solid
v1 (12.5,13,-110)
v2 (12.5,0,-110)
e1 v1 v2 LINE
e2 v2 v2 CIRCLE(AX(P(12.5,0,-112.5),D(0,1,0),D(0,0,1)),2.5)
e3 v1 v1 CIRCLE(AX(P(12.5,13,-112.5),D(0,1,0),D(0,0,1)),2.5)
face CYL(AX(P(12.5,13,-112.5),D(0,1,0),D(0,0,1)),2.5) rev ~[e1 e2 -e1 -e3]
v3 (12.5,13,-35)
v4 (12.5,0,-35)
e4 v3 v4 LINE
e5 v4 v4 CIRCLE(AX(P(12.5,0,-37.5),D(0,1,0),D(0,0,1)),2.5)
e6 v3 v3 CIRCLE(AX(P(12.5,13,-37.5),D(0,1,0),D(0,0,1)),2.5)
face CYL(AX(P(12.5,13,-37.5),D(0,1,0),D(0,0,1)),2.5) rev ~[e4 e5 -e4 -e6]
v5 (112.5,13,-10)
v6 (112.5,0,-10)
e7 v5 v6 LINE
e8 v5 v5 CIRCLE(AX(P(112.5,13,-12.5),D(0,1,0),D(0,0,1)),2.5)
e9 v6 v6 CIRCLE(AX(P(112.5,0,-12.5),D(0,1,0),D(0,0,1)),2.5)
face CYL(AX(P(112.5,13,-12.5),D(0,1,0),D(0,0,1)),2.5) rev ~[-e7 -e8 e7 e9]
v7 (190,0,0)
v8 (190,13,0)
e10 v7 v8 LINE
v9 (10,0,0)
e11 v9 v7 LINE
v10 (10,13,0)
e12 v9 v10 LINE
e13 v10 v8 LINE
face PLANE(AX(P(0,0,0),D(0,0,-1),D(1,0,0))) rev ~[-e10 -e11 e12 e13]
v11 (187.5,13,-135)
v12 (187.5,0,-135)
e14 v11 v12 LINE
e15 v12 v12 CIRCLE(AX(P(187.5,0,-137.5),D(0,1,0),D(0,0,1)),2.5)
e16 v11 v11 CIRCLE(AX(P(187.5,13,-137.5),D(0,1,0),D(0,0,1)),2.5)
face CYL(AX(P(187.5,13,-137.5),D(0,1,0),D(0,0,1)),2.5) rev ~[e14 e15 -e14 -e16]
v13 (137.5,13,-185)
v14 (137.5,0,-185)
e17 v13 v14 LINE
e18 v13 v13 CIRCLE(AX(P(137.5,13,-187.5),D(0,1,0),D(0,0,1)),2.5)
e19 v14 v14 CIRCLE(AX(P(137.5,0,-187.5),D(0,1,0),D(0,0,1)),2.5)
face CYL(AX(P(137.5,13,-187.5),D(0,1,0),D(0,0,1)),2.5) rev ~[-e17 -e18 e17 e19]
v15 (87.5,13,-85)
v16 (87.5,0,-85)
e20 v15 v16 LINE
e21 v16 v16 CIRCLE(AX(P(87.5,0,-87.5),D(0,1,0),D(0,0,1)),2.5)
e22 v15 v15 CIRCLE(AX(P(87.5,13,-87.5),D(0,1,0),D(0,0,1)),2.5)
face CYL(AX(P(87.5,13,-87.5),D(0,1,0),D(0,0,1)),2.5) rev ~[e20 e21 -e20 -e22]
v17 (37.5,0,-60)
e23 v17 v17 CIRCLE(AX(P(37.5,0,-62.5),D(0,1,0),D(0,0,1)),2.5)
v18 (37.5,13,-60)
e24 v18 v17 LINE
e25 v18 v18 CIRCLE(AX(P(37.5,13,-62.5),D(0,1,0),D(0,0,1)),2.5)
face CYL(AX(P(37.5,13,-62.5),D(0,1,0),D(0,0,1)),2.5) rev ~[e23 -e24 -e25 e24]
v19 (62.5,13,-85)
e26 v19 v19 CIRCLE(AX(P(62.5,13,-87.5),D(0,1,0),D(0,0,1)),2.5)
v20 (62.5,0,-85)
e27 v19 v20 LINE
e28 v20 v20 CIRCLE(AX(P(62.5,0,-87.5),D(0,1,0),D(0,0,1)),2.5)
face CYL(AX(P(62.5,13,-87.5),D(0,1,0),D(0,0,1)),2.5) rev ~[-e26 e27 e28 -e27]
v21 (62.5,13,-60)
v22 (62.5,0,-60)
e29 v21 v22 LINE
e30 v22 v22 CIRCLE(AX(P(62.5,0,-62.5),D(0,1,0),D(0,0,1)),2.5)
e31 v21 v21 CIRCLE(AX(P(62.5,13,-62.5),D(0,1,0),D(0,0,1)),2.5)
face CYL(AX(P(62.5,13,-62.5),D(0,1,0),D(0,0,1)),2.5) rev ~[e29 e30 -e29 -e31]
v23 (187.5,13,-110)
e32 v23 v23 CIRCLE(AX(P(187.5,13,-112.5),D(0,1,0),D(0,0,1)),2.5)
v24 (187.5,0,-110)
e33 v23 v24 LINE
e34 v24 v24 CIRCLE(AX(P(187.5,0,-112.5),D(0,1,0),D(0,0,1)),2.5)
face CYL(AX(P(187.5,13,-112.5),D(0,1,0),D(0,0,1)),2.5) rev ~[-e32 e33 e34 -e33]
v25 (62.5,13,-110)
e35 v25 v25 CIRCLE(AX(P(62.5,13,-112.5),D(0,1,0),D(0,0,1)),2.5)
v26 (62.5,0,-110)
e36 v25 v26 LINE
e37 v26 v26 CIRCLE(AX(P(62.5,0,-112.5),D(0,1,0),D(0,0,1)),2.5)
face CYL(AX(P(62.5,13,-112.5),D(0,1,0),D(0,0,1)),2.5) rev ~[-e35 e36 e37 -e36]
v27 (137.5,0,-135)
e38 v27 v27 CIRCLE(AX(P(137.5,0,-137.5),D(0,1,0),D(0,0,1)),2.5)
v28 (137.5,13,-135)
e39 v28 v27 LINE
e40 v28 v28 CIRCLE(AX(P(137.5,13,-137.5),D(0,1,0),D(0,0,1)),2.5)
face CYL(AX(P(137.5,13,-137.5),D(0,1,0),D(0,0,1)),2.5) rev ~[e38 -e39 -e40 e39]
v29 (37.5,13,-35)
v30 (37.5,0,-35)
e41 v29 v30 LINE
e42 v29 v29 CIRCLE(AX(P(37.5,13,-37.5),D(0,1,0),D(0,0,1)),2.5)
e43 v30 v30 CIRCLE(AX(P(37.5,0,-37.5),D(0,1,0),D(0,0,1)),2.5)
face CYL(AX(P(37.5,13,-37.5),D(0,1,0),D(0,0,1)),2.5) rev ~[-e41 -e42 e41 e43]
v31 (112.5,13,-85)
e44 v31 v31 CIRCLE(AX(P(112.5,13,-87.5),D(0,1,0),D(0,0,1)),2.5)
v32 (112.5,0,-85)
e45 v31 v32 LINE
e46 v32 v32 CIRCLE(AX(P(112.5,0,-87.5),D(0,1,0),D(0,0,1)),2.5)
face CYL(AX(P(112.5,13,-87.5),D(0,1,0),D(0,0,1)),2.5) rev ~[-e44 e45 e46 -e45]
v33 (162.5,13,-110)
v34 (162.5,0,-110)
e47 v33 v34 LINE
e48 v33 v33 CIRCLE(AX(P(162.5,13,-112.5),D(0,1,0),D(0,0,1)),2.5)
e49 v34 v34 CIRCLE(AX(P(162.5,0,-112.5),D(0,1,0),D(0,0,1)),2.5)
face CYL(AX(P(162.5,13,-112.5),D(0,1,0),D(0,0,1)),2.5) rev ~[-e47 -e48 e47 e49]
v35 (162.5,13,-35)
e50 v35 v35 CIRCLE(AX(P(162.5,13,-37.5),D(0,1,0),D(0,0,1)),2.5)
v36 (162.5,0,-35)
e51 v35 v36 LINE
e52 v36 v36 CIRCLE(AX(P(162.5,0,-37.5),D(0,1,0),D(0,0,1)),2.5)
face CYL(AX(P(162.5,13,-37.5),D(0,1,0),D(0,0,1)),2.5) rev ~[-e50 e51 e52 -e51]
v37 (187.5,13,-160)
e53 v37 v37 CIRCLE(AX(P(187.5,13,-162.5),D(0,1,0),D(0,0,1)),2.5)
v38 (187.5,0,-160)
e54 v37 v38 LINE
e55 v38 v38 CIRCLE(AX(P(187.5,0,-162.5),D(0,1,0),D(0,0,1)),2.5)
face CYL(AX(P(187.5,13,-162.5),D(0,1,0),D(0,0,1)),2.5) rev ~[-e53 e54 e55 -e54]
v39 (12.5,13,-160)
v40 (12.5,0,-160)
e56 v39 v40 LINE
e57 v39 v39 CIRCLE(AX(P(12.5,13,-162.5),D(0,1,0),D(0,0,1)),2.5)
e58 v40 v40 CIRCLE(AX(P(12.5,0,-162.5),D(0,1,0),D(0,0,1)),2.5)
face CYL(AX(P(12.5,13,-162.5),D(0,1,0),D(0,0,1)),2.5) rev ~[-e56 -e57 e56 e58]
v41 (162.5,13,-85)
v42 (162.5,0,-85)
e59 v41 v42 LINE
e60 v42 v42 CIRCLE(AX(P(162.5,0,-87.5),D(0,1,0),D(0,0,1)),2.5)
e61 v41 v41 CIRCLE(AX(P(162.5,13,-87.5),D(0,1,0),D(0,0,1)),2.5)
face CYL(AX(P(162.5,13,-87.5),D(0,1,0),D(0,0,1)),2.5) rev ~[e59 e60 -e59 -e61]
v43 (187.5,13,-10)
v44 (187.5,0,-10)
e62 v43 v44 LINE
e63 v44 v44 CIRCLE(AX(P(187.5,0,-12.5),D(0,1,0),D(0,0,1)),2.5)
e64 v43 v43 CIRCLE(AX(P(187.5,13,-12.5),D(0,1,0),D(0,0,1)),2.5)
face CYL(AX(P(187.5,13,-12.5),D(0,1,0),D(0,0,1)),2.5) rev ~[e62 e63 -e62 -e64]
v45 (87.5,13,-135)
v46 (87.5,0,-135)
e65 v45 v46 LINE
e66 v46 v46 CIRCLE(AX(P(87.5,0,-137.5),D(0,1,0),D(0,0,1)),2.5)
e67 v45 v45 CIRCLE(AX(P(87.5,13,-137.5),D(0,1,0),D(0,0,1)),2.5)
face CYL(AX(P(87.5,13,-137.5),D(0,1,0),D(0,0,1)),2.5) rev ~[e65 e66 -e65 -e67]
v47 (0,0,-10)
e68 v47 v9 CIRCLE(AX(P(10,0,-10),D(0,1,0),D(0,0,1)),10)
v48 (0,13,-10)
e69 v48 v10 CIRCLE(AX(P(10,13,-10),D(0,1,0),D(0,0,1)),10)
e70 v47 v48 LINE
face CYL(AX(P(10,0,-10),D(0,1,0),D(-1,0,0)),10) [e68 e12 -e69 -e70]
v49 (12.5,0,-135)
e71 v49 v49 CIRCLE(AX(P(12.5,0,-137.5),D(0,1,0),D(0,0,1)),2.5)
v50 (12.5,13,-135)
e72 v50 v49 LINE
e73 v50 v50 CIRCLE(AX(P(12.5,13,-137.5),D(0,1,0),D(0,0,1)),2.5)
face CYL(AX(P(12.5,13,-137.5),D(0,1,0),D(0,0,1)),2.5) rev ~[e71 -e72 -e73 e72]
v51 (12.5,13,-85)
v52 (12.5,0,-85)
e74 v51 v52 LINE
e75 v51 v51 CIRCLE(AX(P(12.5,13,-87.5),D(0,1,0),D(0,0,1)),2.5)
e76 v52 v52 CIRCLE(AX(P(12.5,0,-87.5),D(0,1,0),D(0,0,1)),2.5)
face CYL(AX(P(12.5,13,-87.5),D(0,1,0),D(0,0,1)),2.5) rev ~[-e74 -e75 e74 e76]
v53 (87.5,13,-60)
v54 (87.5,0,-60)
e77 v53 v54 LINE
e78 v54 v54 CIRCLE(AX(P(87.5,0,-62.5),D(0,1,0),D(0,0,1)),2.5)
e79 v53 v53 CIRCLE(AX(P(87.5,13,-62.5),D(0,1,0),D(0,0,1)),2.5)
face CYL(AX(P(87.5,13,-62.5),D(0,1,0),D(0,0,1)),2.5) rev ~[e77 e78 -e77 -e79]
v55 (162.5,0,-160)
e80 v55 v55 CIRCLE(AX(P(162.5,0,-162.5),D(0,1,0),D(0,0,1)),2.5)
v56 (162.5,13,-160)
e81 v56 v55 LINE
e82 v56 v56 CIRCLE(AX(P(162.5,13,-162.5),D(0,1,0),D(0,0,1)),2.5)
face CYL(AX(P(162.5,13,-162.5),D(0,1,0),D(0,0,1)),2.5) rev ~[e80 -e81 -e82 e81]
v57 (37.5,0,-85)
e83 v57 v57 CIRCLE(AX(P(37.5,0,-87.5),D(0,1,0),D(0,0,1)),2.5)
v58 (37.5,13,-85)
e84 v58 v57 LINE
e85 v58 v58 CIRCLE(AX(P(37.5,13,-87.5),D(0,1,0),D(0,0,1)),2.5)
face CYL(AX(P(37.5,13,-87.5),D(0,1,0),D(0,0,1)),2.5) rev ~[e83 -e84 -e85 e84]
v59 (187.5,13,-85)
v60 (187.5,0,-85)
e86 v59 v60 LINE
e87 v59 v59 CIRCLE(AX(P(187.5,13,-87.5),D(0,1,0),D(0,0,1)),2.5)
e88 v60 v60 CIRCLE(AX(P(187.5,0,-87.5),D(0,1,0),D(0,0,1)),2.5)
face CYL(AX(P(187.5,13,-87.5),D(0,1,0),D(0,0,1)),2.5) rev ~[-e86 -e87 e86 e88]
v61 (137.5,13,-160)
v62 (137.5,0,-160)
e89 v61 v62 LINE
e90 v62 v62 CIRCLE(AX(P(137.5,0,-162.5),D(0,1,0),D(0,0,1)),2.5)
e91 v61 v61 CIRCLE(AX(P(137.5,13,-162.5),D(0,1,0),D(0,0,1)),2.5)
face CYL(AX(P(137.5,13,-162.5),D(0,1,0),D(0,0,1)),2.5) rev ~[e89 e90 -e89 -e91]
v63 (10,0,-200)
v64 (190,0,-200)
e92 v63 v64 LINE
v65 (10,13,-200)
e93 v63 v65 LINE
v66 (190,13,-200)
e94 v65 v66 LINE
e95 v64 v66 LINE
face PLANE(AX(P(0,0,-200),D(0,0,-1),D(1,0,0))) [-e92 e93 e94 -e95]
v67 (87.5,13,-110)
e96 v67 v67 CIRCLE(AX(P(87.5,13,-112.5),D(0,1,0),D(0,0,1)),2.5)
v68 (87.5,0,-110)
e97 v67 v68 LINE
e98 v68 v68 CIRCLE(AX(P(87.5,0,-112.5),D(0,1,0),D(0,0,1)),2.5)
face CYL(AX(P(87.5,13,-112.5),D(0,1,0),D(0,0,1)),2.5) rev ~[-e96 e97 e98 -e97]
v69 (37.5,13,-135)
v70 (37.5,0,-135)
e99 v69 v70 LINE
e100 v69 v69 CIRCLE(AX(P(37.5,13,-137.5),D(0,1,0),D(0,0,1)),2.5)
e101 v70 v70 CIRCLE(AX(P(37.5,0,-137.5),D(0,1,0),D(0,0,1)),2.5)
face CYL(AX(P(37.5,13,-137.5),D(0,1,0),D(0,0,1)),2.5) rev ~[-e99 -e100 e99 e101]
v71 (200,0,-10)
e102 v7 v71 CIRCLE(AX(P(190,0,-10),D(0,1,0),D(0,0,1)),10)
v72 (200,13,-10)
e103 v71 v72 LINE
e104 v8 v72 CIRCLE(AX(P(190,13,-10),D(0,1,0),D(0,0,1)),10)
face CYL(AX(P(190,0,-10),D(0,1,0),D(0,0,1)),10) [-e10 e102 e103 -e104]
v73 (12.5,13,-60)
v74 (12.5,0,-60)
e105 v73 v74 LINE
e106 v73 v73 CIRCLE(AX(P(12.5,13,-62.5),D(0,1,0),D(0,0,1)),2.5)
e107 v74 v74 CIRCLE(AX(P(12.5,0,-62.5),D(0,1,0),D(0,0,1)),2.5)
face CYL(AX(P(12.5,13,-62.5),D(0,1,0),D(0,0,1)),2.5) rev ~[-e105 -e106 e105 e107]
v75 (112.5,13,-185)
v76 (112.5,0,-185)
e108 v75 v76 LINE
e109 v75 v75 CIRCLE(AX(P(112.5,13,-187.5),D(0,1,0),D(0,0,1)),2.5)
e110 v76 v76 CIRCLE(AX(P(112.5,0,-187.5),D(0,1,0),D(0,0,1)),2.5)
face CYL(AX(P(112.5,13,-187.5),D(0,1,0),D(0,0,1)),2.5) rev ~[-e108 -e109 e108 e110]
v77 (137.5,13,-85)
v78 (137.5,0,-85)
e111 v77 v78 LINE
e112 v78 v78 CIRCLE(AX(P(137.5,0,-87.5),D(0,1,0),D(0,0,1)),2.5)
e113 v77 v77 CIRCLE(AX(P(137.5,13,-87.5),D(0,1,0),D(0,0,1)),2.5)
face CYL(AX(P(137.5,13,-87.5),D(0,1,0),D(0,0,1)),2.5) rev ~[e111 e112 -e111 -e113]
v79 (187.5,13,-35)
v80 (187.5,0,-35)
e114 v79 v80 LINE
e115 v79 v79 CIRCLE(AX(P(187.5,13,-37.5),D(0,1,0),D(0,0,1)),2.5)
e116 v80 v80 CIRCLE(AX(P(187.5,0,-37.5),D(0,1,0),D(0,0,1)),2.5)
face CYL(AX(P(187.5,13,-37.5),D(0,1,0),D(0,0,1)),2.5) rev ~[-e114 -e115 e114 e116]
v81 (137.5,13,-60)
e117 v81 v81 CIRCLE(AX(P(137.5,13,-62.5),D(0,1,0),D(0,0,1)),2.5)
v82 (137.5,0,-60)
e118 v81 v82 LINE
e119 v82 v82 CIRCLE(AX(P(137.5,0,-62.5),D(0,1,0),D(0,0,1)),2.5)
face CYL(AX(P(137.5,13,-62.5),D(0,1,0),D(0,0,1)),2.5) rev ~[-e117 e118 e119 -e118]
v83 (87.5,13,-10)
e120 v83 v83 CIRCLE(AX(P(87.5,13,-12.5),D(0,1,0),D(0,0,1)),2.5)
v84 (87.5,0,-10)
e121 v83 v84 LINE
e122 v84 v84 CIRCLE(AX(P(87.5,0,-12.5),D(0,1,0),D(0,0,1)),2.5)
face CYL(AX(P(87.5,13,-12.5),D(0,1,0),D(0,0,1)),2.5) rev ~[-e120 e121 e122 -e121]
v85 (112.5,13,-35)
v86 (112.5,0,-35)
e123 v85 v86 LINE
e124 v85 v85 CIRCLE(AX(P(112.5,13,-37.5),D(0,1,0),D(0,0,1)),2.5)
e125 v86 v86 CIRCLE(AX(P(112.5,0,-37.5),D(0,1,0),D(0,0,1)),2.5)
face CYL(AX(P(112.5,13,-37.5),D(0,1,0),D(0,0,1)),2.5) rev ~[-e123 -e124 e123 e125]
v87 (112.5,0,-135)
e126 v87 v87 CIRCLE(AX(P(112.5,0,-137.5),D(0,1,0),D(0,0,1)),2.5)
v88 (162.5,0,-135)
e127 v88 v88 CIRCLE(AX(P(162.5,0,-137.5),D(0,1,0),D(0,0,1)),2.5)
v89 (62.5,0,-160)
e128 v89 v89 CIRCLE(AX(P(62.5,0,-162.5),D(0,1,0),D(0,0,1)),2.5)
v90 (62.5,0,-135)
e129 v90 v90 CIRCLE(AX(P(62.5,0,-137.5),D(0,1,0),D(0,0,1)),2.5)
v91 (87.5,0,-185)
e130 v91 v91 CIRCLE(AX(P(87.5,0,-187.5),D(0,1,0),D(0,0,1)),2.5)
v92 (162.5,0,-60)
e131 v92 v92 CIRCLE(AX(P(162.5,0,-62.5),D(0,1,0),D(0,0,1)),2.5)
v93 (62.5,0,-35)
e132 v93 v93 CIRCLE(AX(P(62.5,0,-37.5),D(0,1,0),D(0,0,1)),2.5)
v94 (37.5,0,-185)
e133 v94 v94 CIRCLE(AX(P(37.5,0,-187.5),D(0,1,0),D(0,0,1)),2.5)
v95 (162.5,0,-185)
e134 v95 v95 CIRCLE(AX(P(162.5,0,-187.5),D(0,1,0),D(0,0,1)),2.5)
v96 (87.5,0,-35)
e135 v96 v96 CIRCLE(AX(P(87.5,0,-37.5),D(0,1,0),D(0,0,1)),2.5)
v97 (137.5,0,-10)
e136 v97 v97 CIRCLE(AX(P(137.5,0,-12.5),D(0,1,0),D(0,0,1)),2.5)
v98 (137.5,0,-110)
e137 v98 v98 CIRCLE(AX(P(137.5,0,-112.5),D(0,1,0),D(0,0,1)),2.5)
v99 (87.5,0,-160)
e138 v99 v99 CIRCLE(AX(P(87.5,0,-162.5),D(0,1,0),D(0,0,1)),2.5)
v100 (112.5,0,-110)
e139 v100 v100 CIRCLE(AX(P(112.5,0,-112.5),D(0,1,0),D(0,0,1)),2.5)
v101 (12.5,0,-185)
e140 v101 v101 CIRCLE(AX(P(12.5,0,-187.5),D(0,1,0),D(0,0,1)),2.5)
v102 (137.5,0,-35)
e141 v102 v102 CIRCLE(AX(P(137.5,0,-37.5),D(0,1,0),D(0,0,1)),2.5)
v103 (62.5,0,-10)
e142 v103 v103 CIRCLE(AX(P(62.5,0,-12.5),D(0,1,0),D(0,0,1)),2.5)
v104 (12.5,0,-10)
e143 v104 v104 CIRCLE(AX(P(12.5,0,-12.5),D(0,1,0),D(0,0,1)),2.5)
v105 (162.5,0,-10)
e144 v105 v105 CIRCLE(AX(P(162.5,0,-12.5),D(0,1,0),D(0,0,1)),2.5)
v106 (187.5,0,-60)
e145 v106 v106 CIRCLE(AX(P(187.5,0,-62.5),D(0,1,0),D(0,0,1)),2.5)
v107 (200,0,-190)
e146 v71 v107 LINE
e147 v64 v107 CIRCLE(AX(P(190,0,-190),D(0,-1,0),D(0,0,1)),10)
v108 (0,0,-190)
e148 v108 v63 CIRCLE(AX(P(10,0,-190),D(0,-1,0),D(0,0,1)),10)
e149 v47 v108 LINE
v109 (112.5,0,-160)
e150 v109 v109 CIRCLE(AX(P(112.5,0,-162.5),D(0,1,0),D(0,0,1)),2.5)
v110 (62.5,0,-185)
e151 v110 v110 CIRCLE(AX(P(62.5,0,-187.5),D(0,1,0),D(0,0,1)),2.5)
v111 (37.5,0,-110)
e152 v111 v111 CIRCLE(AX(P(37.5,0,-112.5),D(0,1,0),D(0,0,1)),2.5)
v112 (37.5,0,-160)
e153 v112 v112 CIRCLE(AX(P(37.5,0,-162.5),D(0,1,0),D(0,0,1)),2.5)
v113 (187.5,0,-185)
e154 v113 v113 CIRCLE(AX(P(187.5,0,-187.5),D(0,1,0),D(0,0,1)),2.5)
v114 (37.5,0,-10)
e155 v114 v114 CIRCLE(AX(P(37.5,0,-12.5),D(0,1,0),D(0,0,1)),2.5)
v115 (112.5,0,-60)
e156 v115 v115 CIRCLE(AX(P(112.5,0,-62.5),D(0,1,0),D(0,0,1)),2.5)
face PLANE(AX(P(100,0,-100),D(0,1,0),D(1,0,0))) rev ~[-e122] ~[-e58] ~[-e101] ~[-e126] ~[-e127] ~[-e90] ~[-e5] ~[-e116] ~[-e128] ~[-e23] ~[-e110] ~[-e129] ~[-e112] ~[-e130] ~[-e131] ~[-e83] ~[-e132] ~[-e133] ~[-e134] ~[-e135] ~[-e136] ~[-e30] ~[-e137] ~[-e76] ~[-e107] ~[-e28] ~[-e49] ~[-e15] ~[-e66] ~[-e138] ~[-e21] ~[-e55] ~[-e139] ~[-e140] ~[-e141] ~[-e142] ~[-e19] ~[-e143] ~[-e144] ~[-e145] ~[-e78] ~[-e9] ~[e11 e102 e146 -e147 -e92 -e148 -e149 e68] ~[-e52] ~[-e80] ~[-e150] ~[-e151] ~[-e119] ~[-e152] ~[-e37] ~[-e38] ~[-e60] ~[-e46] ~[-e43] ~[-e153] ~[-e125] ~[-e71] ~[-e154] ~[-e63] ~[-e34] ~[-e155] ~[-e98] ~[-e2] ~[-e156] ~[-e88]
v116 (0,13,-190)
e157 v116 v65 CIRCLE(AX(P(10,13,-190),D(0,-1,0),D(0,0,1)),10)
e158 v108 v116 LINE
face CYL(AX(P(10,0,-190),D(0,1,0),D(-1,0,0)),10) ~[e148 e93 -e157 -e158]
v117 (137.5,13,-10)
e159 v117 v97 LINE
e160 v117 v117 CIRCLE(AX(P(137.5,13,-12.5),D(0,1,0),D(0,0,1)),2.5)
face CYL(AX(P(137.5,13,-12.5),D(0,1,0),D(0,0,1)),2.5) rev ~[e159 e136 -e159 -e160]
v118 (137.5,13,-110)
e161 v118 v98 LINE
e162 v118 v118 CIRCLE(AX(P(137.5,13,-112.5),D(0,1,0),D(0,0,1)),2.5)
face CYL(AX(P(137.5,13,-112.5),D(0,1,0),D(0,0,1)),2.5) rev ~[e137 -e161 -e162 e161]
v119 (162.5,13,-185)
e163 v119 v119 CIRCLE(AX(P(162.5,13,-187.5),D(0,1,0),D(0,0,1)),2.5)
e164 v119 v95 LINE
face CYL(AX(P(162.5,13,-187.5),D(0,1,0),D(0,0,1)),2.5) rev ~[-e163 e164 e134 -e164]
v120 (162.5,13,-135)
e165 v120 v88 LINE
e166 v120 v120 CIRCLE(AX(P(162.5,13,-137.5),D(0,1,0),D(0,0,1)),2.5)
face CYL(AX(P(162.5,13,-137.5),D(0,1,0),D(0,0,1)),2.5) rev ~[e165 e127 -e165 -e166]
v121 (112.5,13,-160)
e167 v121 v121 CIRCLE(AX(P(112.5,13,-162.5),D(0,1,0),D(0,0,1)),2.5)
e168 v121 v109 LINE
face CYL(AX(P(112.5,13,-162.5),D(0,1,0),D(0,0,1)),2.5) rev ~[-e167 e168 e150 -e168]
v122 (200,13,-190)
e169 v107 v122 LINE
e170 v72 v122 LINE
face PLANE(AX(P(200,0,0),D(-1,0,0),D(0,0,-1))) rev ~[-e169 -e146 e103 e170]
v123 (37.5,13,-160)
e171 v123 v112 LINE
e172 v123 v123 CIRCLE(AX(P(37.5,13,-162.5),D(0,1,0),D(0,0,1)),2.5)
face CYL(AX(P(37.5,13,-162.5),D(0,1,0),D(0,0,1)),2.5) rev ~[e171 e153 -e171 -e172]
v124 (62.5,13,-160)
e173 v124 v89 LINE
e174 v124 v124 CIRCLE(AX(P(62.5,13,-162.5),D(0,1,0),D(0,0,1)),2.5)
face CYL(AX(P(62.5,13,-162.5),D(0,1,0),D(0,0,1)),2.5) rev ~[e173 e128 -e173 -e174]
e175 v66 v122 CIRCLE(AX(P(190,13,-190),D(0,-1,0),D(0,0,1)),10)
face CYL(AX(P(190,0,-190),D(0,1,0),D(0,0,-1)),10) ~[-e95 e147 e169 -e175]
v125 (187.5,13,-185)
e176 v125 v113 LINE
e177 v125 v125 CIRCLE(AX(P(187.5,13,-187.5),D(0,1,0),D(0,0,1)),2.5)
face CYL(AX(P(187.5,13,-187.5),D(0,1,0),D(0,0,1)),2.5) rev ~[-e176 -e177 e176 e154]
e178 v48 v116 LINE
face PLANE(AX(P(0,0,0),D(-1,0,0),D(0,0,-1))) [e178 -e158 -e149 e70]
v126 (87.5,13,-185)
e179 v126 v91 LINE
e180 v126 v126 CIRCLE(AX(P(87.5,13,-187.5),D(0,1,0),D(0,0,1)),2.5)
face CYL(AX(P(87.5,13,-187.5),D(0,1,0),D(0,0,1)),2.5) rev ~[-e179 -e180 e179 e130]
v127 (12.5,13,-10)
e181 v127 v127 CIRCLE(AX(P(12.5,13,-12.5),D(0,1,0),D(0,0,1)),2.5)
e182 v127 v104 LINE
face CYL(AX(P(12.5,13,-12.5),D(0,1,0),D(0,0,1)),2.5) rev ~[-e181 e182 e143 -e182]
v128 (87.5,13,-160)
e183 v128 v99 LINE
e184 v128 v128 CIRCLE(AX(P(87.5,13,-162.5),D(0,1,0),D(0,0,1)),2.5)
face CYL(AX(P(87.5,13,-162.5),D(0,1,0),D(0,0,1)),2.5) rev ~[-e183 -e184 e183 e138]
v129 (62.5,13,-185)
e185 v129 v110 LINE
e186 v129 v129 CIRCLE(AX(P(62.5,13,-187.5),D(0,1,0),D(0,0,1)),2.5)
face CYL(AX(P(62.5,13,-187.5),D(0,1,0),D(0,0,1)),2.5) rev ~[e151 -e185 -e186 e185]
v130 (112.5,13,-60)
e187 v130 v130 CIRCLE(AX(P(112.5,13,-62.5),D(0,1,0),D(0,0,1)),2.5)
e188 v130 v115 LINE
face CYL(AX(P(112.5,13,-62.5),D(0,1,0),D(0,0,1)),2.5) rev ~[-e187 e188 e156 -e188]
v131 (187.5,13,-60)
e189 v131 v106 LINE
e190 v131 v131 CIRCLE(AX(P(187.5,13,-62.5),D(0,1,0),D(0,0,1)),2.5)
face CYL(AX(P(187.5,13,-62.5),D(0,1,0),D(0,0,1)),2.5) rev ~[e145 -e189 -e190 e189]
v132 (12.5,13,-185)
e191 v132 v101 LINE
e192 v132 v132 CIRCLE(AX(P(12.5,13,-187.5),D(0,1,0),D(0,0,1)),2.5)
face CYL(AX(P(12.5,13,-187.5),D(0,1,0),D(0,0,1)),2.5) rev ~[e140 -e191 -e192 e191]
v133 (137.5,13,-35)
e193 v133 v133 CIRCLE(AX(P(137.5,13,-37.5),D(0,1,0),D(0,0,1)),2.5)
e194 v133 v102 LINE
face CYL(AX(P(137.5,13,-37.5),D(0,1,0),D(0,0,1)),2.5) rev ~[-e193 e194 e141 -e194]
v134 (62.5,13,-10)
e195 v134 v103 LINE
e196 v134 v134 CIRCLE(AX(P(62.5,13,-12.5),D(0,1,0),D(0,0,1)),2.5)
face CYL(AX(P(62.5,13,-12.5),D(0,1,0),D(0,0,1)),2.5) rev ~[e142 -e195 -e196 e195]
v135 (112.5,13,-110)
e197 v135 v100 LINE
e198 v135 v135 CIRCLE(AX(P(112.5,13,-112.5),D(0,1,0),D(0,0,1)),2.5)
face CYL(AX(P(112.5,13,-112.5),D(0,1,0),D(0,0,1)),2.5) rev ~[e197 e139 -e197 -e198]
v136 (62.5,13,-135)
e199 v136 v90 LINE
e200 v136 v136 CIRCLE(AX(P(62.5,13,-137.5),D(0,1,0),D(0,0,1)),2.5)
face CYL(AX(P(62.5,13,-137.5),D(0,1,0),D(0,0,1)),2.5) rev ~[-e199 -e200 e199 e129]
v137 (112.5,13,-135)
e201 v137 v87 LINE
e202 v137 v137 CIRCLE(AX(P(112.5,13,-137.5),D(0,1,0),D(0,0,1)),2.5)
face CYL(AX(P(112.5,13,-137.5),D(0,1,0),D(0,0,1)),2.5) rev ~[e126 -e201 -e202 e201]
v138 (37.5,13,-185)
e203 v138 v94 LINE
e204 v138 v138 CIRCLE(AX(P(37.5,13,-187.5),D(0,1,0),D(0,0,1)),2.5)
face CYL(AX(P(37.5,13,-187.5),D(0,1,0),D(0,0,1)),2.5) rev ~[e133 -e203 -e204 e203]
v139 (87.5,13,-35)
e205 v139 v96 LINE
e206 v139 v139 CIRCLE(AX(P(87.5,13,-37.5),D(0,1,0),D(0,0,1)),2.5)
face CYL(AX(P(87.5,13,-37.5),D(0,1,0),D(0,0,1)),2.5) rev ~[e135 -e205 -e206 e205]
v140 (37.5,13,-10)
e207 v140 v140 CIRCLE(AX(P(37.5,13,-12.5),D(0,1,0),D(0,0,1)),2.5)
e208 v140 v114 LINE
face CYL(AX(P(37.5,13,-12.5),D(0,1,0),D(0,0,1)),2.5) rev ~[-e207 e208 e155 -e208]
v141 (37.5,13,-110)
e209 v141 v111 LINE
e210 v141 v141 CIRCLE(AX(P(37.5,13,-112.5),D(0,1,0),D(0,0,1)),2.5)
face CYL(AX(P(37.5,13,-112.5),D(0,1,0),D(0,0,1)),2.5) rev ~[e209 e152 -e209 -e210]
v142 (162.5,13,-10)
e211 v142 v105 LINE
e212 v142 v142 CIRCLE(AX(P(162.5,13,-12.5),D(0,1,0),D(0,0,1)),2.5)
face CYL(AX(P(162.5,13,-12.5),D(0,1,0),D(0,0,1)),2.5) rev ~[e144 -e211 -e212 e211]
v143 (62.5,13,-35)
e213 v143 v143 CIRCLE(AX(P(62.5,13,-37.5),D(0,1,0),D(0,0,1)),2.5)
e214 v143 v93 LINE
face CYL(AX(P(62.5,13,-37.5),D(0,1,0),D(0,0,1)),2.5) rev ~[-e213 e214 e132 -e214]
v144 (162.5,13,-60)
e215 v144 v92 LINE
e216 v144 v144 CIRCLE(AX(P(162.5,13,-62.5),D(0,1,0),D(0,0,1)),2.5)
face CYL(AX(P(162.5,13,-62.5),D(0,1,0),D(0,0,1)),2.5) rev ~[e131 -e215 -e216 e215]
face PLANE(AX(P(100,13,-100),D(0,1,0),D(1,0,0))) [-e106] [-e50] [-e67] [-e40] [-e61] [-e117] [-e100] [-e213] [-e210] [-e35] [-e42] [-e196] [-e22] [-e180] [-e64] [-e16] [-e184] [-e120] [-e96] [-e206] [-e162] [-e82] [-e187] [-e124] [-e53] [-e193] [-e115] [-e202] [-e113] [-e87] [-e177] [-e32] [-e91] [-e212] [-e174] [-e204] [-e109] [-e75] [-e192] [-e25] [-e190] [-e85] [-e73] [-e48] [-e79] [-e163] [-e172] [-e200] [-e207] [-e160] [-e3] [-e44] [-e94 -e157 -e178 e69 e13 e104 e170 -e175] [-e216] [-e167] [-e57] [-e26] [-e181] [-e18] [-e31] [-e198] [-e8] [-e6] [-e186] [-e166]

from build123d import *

# Parameters (mm, degrees)
SKETCH1_W                  = 200
SKETCH1_H                  = 200
BOSS_EXTRUDE1_DEPTH        = 13
SKETCH2_R                  = 2.5
CUT_EXTRUDE2_DEPTH         = 13
LPATTERN1_COUNT            = 8
LPATTERN1_PITCH            = 25
LPATTERN2_COUNT            = 8
LPATTERN2_PITCH            = 25
LPATTERN2_COPY_1_SKETCH_R  = 2.5
LPATTERN2_COPY_1_DEPTH     = 13
LPATTERN2_COPY_2_SKETCH_R  = 2.5
LPATTERN2_COPY_2_DEPTH     = 13
LPATTERN2_COPY_3_SKETCH_R  = 2.5
LPATTERN2_COPY_3_DEPTH     = 13
LPATTERN2_COPY_4_SKETCH_R  = 2.5
LPATTERN2_COPY_4_DEPTH     = 13
LPATTERN2_COPY_5_SKETCH_R  = 2.5
LPATTERN2_COPY_5_DEPTH     = 13
LPATTERN2_COPY_6_SKETCH_R  = 2.5
LPATTERN2_COPY_6_DEPTH     = 13
LPATTERN2_COPY_7_SKETCH_R  = 2.5
LPATTERN2_COPY_7_DEPTH     = 13
LPATTERN2_COPY_8_SKETCH_R  = 2.5
LPATTERN2_COPY_8_DEPTH     = 13
LPATTERN2_COPY_9_SKETCH_R  = 2.5
LPATTERN2_COPY_9_DEPTH     = 13
LPATTERN2_COPY_10_SKETCH_R = 2.5
LPATTERN2_COPY_10_DEPTH    = 13
LPATTERN2_COPY_11_SKETCH_R = 2.5
LPATTERN2_COPY_11_DEPTH    = 13
LPATTERN2_COPY_12_SKETCH_R = 2.5
LPATTERN2_COPY_12_DEPTH    = 13
LPATTERN2_COPY_13_SKETCH_R = 2.5
LPATTERN2_COPY_13_DEPTH    = 13
LPATTERN2_COPY_14_SKETCH_R = 2.5
LPATTERN2_COPY_14_DEPTH    = 13
LPATTERN2_COPY_15_SKETCH_R = 2.5
LPATTERN2_COPY_15_DEPTH    = 13
LPATTERN2_COPY_16_SKETCH_R = 2.5
LPATTERN2_COPY_16_DEPTH    = 13
LPATTERN2_COPY_17_SKETCH_R = 2.5
LPATTERN2_COPY_17_DEPTH    = 13
LPATTERN2_COPY_18_SKETCH_R = 2.5
LPATTERN2_COPY_18_DEPTH    = 13
LPATTERN2_COPY_19_SKETCH_R = 2.5
LPATTERN2_COPY_19_DEPTH    = 13
LPATTERN2_COPY_20_SKETCH_R = 2.5
LPATTERN2_COPY_20_DEPTH    = 13
LPATTERN2_COPY_21_SKETCH_R = 2.5
LPATTERN2_COPY_21_DEPTH    = 13
LPATTERN2_COPY_22_SKETCH_R = 2.5
LPATTERN2_COPY_22_DEPTH    = 13
LPATTERN2_COPY_23_SKETCH_R = 2.5
LPATTERN2_COPY_23_DEPTH    = 13
LPATTERN2_COPY_24_SKETCH_R = 2.5
LPATTERN2_COPY_24_DEPTH    = 13
LPATTERN2_COPY_25_SKETCH_R = 2.5
LPATTERN2_COPY_25_DEPTH    = 13
LPATTERN2_COPY_26_SKETCH_R = 2.5
LPATTERN2_COPY_26_DEPTH    = 13
LPATTERN2_COPY_27_SKETCH_R = 2.5
LPATTERN2_COPY_27_DEPTH    = 13
LPATTERN2_COPY_28_SKETCH_R = 2.5
LPATTERN2_COPY_28_DEPTH    = 13
LPATTERN2_COPY_29_SKETCH_R = 2.5
LPATTERN2_COPY_29_DEPTH    = 13
LPATTERN2_COPY_30_SKETCH_R = 2.5
LPATTERN2_COPY_30_DEPTH    = 13
LPATTERN2_COPY_31_SKETCH_R = 2.5
LPATTERN2_COPY_31_DEPTH    = 13
LPATTERN2_COPY_32_SKETCH_R = 2.5
LPATTERN2_COPY_32_DEPTH    = 13
LPATTERN2_COPY_33_SKETCH_R = 2.5
LPATTERN2_COPY_33_DEPTH    = 13
LPATTERN2_COPY_34_SKETCH_R = 2.5
LPATTERN2_COPY_34_DEPTH    = 13
LPATTERN2_COPY_35_SKETCH_R = 2.5
LPATTERN2_COPY_35_DEPTH    = 13
LPATTERN2_COPY_36_SKETCH_R = 2.5
LPATTERN2_COPY_36_DEPTH    = 13
LPATTERN2_COPY_37_SKETCH_R = 2.5
LPATTERN2_COPY_37_DEPTH    = 13
LPATTERN2_COPY_38_SKETCH_R = 2.5
LPATTERN2_COPY_38_DEPTH    = 13
LPATTERN2_COPY_39_SKETCH_R = 2.5
LPATTERN2_COPY_39_DEPTH    = 13
LPATTERN2_COPY_40_SKETCH_R = 2.5
LPATTERN2_COPY_40_DEPTH    = 13
LPATTERN2_COPY_41_SKETCH_R = 2.5
LPATTERN2_COPY_41_DEPTH    = 13
LPATTERN2_COPY_42_SKETCH_R = 2.5
LPATTERN2_COPY_42_DEPTH    = 13
LPATTERN2_COPY_43_SKETCH_R = 2.5
LPATTERN2_COPY_43_DEPTH    = 13
LPATTERN2_COPY_44_SKETCH_R = 2.5
LPATTERN2_COPY_44_DEPTH    = 13
LPATTERN2_COPY_45_SKETCH_R = 2.5
LPATTERN2_COPY_45_DEPTH    = 13
LPATTERN2_COPY_46_SKETCH_R = 2.5
LPATTERN2_COPY_46_DEPTH    = 13
LPATTERN2_COPY_47_SKETCH_R = 2.5
LPATTERN2_COPY_47_DEPTH    = 13
LPATTERN2_COPY_48_SKETCH_R = 2.5
LPATTERN2_COPY_48_DEPTH    = 13
LPATTERN2_COPY_49_SKETCH_R = 2.5
LPATTERN2_COPY_49_DEPTH    = 13
FILLET1_R                  = 10


with BuildPart() as part:
    # Sketch1 → Boss-Extrude1 (new body)
    with BuildSketch(Plane(origin=(0, 0, 0), x_dir=(1, 0, 0), z_dir=(0, 1, 0))):
        with Locations((100, 100)):
            Rectangle(SKETCH1_W, SKETCH1_H)
    extrude(amount=BOSS_EXTRUDE1_DEPTH)

    # Sketch2 → Cut-Extrude2 (cut)
    with BuildSketch(Plane(origin=(0, 13, 0), x_dir=(1, 0, 0), z_dir=(0, 1, 0))):
        with Locations(Location((12.5, 12.5, 0), (0, 0, 270))):
            Circle(SKETCH2_R)
    cut_extrude2 = extrude(amount=-CUT_EXTRUDE2_DEPTH, mode=Mode.SUBTRACT)

    # LPattern1: Cut-Extrude2 ×8
    with Locations(*[(i * LPATTERN1_PITCH, 0, 0) for i in range(1, LPATTERN1_COUNT)]):
        add(cut_extrude2, mode=Mode.SUBTRACT)

    # LPattern2: Cut-Extrude2 ×8
    with Locations(*[(0, 0, -i * LPATTERN2_PITCH) for i in range(1, LPATTERN2_COUNT)]):
        add(cut_extrude2, mode=Mode.SUBTRACT)

    # LPattern2 copy 1 sketch → LPattern2 copy 1 (cut)
    with BuildSketch(Plane(origin=(25, 13, -25), x_dir=(1, 0, 0), z_dir=(0, 1, 0))):
        with Locations(Location((12.5, 12.5, 0), (0, 0, 270))):
            Circle(LPATTERN2_COPY_1_SKETCH_R)
    extrude(amount=-LPATTERN2_COPY_1_DEPTH, mode=Mode.SUBTRACT)

    # LPattern2 copy 2 sketch → LPattern2 copy 2 (cut)
    with BuildSketch(Plane(origin=(25, 13, -50), x_dir=(1, 0, 0), z_dir=(0, 1, 0))):
        with Locations(Location((12.5, 12.5, 0), (0, 0, 270))):
            Circle(LPATTERN2_COPY_2_SKETCH_R)
    extrude(amount=-LPATTERN2_COPY_2_DEPTH, mode=Mode.SUBTRACT)

    # LPattern2 copy 3 sketch → LPattern2 copy 3 (cut)
    with BuildSketch(Plane(origin=(25, 13, -75), x_dir=(1, 0, 0), z_dir=(0, 1, 0))):
        with Locations(Location((12.5, 12.5, 0), (0, 0, 270))):
            Circle(LPATTERN2_COPY_3_SKETCH_R)
    extrude(amount=-LPATTERN2_COPY_3_DEPTH, mode=Mode.SUBTRACT)

    # LPattern2 copy 4 sketch → LPattern2 copy 4 (cut)
    with BuildSketch(Plane(origin=(25, 13, -100), x_dir=(1, 0, 0), z_dir=(0, 1, 0))):
        with Locations(Location((12.5, 12.5, 0), (0, 0, 270))):
            Circle(LPATTERN2_COPY_4_SKETCH_R)
    extrude(amount=-LPATTERN2_COPY_4_DEPTH, mode=Mode.SUBTRACT)

    # LPattern2 copy 5 sketch → LPattern2 copy 5 (cut)
    with BuildSketch(Plane(origin=(25, 13, -125), x_dir=(1, 0, 0), z_dir=(0, 1, 0))):
        with Locations(Location((12.5, 12.5, 0), (0, 0, 270))):
            Circle(LPATTERN2_COPY_5_SKETCH_R)
    extrude(amount=-LPATTERN2_COPY_5_DEPTH, mode=Mode.SUBTRACT)

    # LPattern2 copy 6 sketch → LPattern2 copy 6 (cut)
    with BuildSketch(Plane(origin=(25, 13, -150), x_dir=(1, 0, 0), z_dir=(0, 1, 0))):
        with Locations(Location((12.5, 12.5, 0), (0, 0, 270))):
            Circle(LPATTERN2_COPY_6_SKETCH_R)
    extrude(amount=-LPATTERN2_COPY_6_DEPTH, mode=Mode.SUBTRACT)

    # LPattern2 copy 7 sketch → LPattern2 copy 7 (cut)
    with BuildSketch(Plane(origin=(25, 13, -175), x_dir=(1, 0, 0), z_dir=(0, 1, 0))):
        with Locations(Location((12.5, 12.5, 0), (0, 0, 270))):
            Circle(LPATTERN2_COPY_7_SKETCH_R)
    extrude(amount=-LPATTERN2_COPY_7_DEPTH, mode=Mode.SUBTRACT)

    # LPattern2 copy 8 sketch → LPattern2 copy 8 (cut)
    with BuildSketch(Plane(origin=(50, 13, -25), x_dir=(1, 0, 0), z_dir=(0, 1, 0))):
        with Locations(Location((12.5, 12.5, 0), (0, 0, 270))):
            Circle(LPATTERN2_COPY_8_SKETCH_R)
    extrude(amount=-LPATTERN2_COPY_8_DEPTH, mode=Mode.SUBTRACT)

    # LPattern2 copy 9 sketch → LPattern2 copy 9 (cut)
    with BuildSketch(Plane(origin=(50, 13, -50), x_dir=(1, 0, 0), z_dir=(0, 1, 0))):
        with Locations(Location((12.5, 12.5, 0), (0, 0, 270))):
            Circle(LPATTERN2_COPY_9_SKETCH_R)
    extrude(amount=-LPATTERN2_COPY_9_DEPTH, mode=Mode.SUBTRACT)

    # LPattern2 copy 10 sketch → LPattern2 copy 10 (cut)
    with BuildSketch(Plane(origin=(50, 13, -75), x_dir=(1, 0, 0), z_dir=(0, 1, 0))):
        with Locations(Location((12.5, 12.5, 0), (0, 0, 270))):
            Circle(LPATTERN2_COPY_10_SKETCH_R)
    extrude(amount=-LPATTERN2_COPY_10_DEPTH, mode=Mode.SUBTRACT)

    # LPattern2 copy 11 sketch → LPattern2 copy 11 (cut)
    with BuildSketch(Plane(origin=(50, 13, -100), x_dir=(1, 0, 0), z_dir=(0, 1, 0))):
        with Locations(Location((12.5, 12.5, 0), (0, 0, 270))):
            Circle(LPATTERN2_COPY_11_SKETCH_R)
    extrude(amount=-LPATTERN2_COPY_11_DEPTH, mode=Mode.SUBTRACT)

    # LPattern2 copy 12 sketch → LPattern2 copy 12 (cut)
    with BuildSketch(Plane(origin=(50, 13, -125), x_dir=(1, 0, 0), z_dir=(0, 1, 0))):
        with Locations(Location((12.5, 12.5, 0), (0, 0, 270))):
            Circle(LPATTERN2_COPY_12_SKETCH_R)
    extrude(amount=-LPATTERN2_COPY_12_DEPTH, mode=Mode.SUBTRACT)

    # LPattern2 copy 13 sketch → LPattern2 copy 13 (cut)
    with BuildSketch(Plane(origin=(50, 13, -150), x_dir=(1, 0, 0), z_dir=(0, 1, 0))):
        with Locations(Location((12.5, 12.5, 0), (0, 0, 270))):
            Circle(LPATTERN2_COPY_13_SKETCH_R)
    extrude(amount=-LPATTERN2_COPY_13_DEPTH, mode=Mode.SUBTRACT)

    # LPattern2 copy 14 sketch → LPattern2 copy 14 (cut)
    with BuildSketch(Plane(origin=(50, 13, -175), x_dir=(1, 0, 0), z_dir=(0, 1, 0))):
        with Locations(Location((12.5, 12.5, 0), (0, 0, 270))):
            Circle(LPATTERN2_COPY_14_SKETCH_R)
    extrude(amount=-LPATTERN2_COPY_14_DEPTH, mode=Mode.SUBTRACT)

    # LPattern2 copy 15 sketch → LPattern2 copy 15 (cut)
    with BuildSketch(Plane(origin=(75, 13, -25), x_dir=(1, 0, 0), z_dir=(0, 1, 0))):
        with Locations(Location((12.5, 12.5, 0), (0, 0, 270))):
            Circle(LPATTERN2_COPY_15_SKETCH_R)
    extrude(amount=-LPATTERN2_COPY_15_DEPTH, mode=Mode.SUBTRACT)

    # LPattern2 copy 16 sketch → LPattern2 copy 16 (cut)
    with BuildSketch(Plane(origin=(75, 13, -50), x_dir=(1, 0, 0), z_dir=(0, 1, 0))):
        with Locations(Location((12.5, 12.5, 0), (0, 0, 270))):
            Circle(LPATTERN2_COPY_16_SKETCH_R)
    extrude(amount=-LPATTERN2_COPY_16_DEPTH, mode=Mode.SUBTRACT)

    # LPattern2 copy 17 sketch → LPattern2 copy 17 (cut)
    with BuildSketch(Plane(origin=(75, 13, -75), x_dir=(1, 0, 0), z_dir=(0, 1, 0))):
        with Locations(Location((12.5, 12.5, 0), (0, 0, 270))):
            Circle(LPATTERN2_COPY_17_SKETCH_R)
    extrude(amount=-LPATTERN2_COPY_17_DEPTH, mode=Mode.SUBTRACT)

    # LPattern2 copy 18 sketch → LPattern2 copy 18 (cut)
    with BuildSketch(Plane(origin=(75, 13, -100), x_dir=(1, 0, 0), z_dir=(0, 1, 0))):
        with Locations(Location((12.5, 12.5, 0), (0, 0, 270))):
            Circle(LPATTERN2_COPY_18_SKETCH_R)
    extrude(amount=-LPATTERN2_COPY_18_DEPTH, mode=Mode.SUBTRACT)

    # LPattern2 copy 19 sketch → LPattern2 copy 19 (cut)
    with BuildSketch(Plane(origin=(75, 13, -125), x_dir=(1, 0, 0), z_dir=(0, 1, 0))):
        with Locations(Location((12.5, 12.5, 0), (0, 0, 270))):
            Circle(LPATTERN2_COPY_19_SKETCH_R)
    extrude(amount=-LPATTERN2_COPY_19_DEPTH, mode=Mode.SUBTRACT)

    # LPattern2 copy 20 sketch → LPattern2 copy 20 (cut)
    with BuildSketch(Plane(origin=(75, 13, -150), x_dir=(1, 0, 0), z_dir=(0, 1, 0))):
        with Locations(Location((12.5, 12.5, 0), (0, 0, 270))):
            Circle(LPATTERN2_COPY_20_SKETCH_R)
    extrude(amount=-LPATTERN2_COPY_20_DEPTH, mode=Mode.SUBTRACT)

    # LPattern2 copy 21 sketch → LPattern2 copy 21 (cut)
    with BuildSketch(Plane(origin=(75, 13, -175), x_dir=(1, 0, 0), z_dir=(0, 1, 0))):
        with Locations(Location((12.5, 12.5, 0), (0, 0, 270))):
            Circle(LPATTERN2_COPY_21_SKETCH_R)
    extrude(amount=-LPATTERN2_COPY_21_DEPTH, mode=Mode.SUBTRACT)

    # LPattern2 copy 22 sketch → LPattern2 copy 22 (cut)
    with BuildSketch(Plane(origin=(100, 13, -25), x_dir=(1, 0, 0), z_dir=(0, 1, 0))):
        with Locations(Location((12.5, 12.5, 0), (0, 0, 270))):
            Circle(LPATTERN2_COPY_22_SKETCH_R)
    extrude(amount=-LPATTERN2_COPY_22_DEPTH, mode=Mode.SUBTRACT)

    # LPattern2 copy 23 sketch → LPattern2 copy 23 (cut)
    with BuildSketch(Plane(origin=(100, 13, -50), x_dir=(1, 0, 0), z_dir=(0, 1, 0))):
        with Locations(Location((12.5, 12.5, 0), (0, 0, 270))):
            Circle(LPATTERN2_COPY_23_SKETCH_R)
    extrude(amount=-LPATTERN2_COPY_23_DEPTH, mode=Mode.SUBTRACT)

    # LPattern2 copy 24 sketch → LPattern2 copy 24 (cut)
    with BuildSketch(Plane(origin=(100, 13, -75), x_dir=(1, 0, 0), z_dir=(0, 1, 0))):
        with Locations(Location((12.5, 12.5, 0), (0, 0, 270))):
            Circle(LPATTERN2_COPY_24_SKETCH_R)
    extrude(amount=-LPATTERN2_COPY_24_DEPTH, mode=Mode.SUBTRACT)

    # LPattern2 copy 25 sketch → LPattern2 copy 25 (cut)
    with BuildSketch(Plane(origin=(100, 13, -100), x_dir=(1, 0, 0), z_dir=(0, 1, 0))):
        with Locations(Location((12.5, 12.5, 0), (0, 0, 270))):
            Circle(LPATTERN2_COPY_25_SKETCH_R)
    extrude(amount=-LPATTERN2_COPY_25_DEPTH, mode=Mode.SUBTRACT)

    # LPattern2 copy 26 sketch → LPattern2 copy 26 (cut)
    with BuildSketch(Plane(origin=(100, 13, -125), x_dir=(1, 0, 0), z_dir=(0, 1, 0))):
        with Locations(Location((12.5, 12.5, 0), (0, 0, 270))):
            Circle(LPATTERN2_COPY_26_SKETCH_R)
    extrude(amount=-LPATTERN2_COPY_26_DEPTH, mode=Mode.SUBTRACT)

    # LPattern2 copy 27 sketch → LPattern2 copy 27 (cut)
    with BuildSketch(Plane(origin=(100, 13, -150), x_dir=(1, 0, 0), z_dir=(0, 1, 0))):
        with Locations(Location((12.5, 12.5, 0), (0, 0, 270))):
            Circle(LPATTERN2_COPY_27_SKETCH_R)
    extrude(amount=-LPATTERN2_COPY_27_DEPTH, mode=Mode.SUBTRACT)

    # LPattern2 copy 28 sketch → LPattern2 copy 28 (cut)
    with BuildSketch(Plane(origin=(100, 13, -175), x_dir=(1, 0, 0), z_dir=(0, 1, 0))):
        with Locations(Location((12.5, 12.5, 0), (0, 0, 270))):
            Circle(LPATTERN2_COPY_28_SKETCH_R)
    extrude(amount=-LPATTERN2_COPY_28_DEPTH, mode=Mode.SUBTRACT)

    # LPattern2 copy 29 sketch → LPattern2 copy 29 (cut)
    with BuildSketch(Plane(origin=(125, 13, -25), x_dir=(1, 0, 0), z_dir=(0, 1, 0))):
        with Locations(Location((12.5, 12.5, 0), (0, 0, 270))):
            Circle(LPATTERN2_COPY_29_SKETCH_R)
    extrude(amount=-LPATTERN2_COPY_29_DEPTH, mode=Mode.SUBTRACT)

    # LPattern2 copy 30 sketch → LPattern2 copy 30 (cut)
    with BuildSketch(Plane(origin=(125, 13, -50), x_dir=(1, 0, 0), z_dir=(0, 1, 0))):
        with Locations(Location((12.5, 12.5, 0), (0, 0, 270))):
            Circle(LPATTERN2_COPY_30_SKETCH_R)
    extrude(amount=-LPATTERN2_COPY_30_DEPTH, mode=Mode.SUBTRACT)

    # LPattern2 copy 31 sketch → LPattern2 copy 31 (cut)
    with BuildSketch(Plane(origin=(125, 13, -75), x_dir=(1, 0, 0), z_dir=(0, 1, 0))):
        with Locations(Location((12.5, 12.5, 0), (0, 0, 270))):
            Circle(LPATTERN2_COPY_31_SKETCH_R)
    extrude(amount=-LPATTERN2_COPY_31_DEPTH, mode=Mode.SUBTRACT)

    # LPattern2 copy 32 sketch → LPattern2 copy 32 (cut)
    with BuildSketch(Plane(origin=(125, 13, -100), x_dir=(1, 0, 0), z_dir=(0, 1, 0))):
        with Locations(Location((12.5, 12.5, 0), (0, 0, 270))):
            Circle(LPATTERN2_COPY_32_SKETCH_R)
    extrude(amount=-LPATTERN2_COPY_32_DEPTH, mode=Mode.SUBTRACT)

    # LPattern2 copy 33 sketch → LPattern2 copy 33 (cut)
    with BuildSketch(Plane(origin=(125, 13, -125), x_dir=(1, 0, 0), z_dir=(0, 1, 0))):
        with Locations(Location((12.5, 12.5, 0), (0, 0, 270))):
            Circle(LPATTERN2_COPY_33_SKETCH_R)
    extrude(amount=-LPATTERN2_COPY_33_DEPTH, mode=Mode.SUBTRACT)

    # LPattern2 copy 34 sketch → LPattern2 copy 34 (cut)
    with BuildSketch(Plane(origin=(125, 13, -150), x_dir=(1, 0, 0), z_dir=(0, 1, 0))):
        with Locations(Location((12.5, 12.5, 0), (0, 0, 270))):
            Circle(LPATTERN2_COPY_34_SKETCH_R)
    extrude(amount=-LPATTERN2_COPY_34_DEPTH, mode=Mode.SUBTRACT)

    # LPattern2 copy 35 sketch → LPattern2 copy 35 (cut)
    with BuildSketch(Plane(origin=(125, 13, -175), x_dir=(1, 0, 0), z_dir=(0, 1, 0))):
        with Locations(Location((12.5, 12.5, 0), (0, 0, 270))):
            Circle(LPATTERN2_COPY_35_SKETCH_R)
    extrude(amount=-LPATTERN2_COPY_35_DEPTH, mode=Mode.SUBTRACT)

    # LPattern2 copy 36 sketch → LPattern2 copy 36 (cut)
    with BuildSketch(Plane(origin=(150, 13, -25), x_dir=(1, 0, 0), z_dir=(0, 1, 0))):
        with Locations(Location((12.5, 12.5, 0), (0, 0, 270))):
            Circle(LPATTERN2_COPY_36_SKETCH_R)
    extrude(amount=-LPATTERN2_COPY_36_DEPTH, mode=Mode.SUBTRACT)

    # LPattern2 copy 37 sketch → LPattern2 copy 37 (cut)
    with BuildSketch(Plane(origin=(150, 13, -50), x_dir=(1, 0, 0), z_dir=(0, 1, 0))):
        with Locations(Location((12.5, 12.5, 0), (0, 0, 270))):
            Circle(LPATTERN2_COPY_37_SKETCH_R)
    extrude(amount=-LPATTERN2_COPY_37_DEPTH, mode=Mode.SUBTRACT)

    # LPattern2 copy 38 sketch → LPattern2 copy 38 (cut)
    with BuildSketch(Plane(origin=(150, 13, -75), x_dir=(1, 0, 0), z_dir=(0, 1, 0))):
        with Locations(Location((12.5, 12.5, 0), (0, 0, 270))):
            Circle(LPATTERN2_COPY_38_SKETCH_R)
    extrude(amount=-LPATTERN2_COPY_38_DEPTH, mode=Mode.SUBTRACT)

    # LPattern2 copy 39 sketch → LPattern2 copy 39 (cut)
    with BuildSketch(Plane(origin=(150, 13, -100), x_dir=(1, 0, 0), z_dir=(0, 1, 0))):
        with Locations(Location((12.5, 12.5, 0), (0, 0, 270))):
            Circle(LPATTERN2_COPY_39_SKETCH_R)
    extrude(amount=-LPATTERN2_COPY_39_DEPTH, mode=Mode.SUBTRACT)

    # LPattern2 copy 40 sketch → LPattern2 copy 40 (cut)
    with BuildSketch(Plane(origin=(150, 13, -125), x_dir=(1, 0, 0), z_dir=(0, 1, 0))):
        with Locations(Location((12.5, 12.5, 0), (0, 0, 270))):
            Circle(LPATTERN2_COPY_40_SKETCH_R)
    extrude(amount=-LPATTERN2_COPY_40_DEPTH, mode=Mode.SUBTRACT)

    # LPattern2 copy 41 sketch → LPattern2 copy 41 (cut)
    with BuildSketch(Plane(origin=(150, 13, -150), x_dir=(1, 0, 0), z_dir=(0, 1, 0))):
        with Locations(Location((12.5, 12.5, 0), (0, 0, 270))):
            Circle(LPATTERN2_COPY_41_SKETCH_R)
    extrude(amount=-LPATTERN2_COPY_41_DEPTH, mode=Mode.SUBTRACT)

    # LPattern2 copy 42 sketch → LPattern2 copy 42 (cut)
    with BuildSketch(Plane(origin=(150, 13, -175), x_dir=(1, 0, 0), z_dir=(0, 1, 0))):
        with Locations(Location((12.5, 12.5, 0), (0, 0, 270))):
            Circle(LPATTERN2_COPY_42_SKETCH_R)
    extrude(amount=-LPATTERN2_COPY_42_DEPTH, mode=Mode.SUBTRACT)

    # LPattern2 copy 43 sketch → LPattern2 copy 43 (cut)
    with BuildSketch(Plane(origin=(175, 13, -25), x_dir=(1, 0, 0), z_dir=(0, 1, 0))):
        with Locations(Location((12.5, 12.5, 0), (0, 0, 270))):
            Circle(LPATTERN2_COPY_43_SKETCH_R)
    extrude(amount=-LPATTERN2_COPY_43_DEPTH, mode=Mode.SUBTRACT)

    # LPattern2 copy 44 sketch → LPattern2 copy 44 (cut)
    with BuildSketch(Plane(origin=(175, 13, -50), x_dir=(1, 0, 0), z_dir=(0, 1, 0))):
        with Locations(Location((12.5, 12.5, 0), (0, 0, 270))):
            Circle(LPATTERN2_COPY_44_SKETCH_R)
    extrude(amount=-LPATTERN2_COPY_44_DEPTH, mode=Mode.SUBTRACT)

    # LPattern2 copy 45 sketch → LPattern2 copy 45 (cut)
    with BuildSketch(Plane(origin=(175, 13, -75), x_dir=(1, 0, 0), z_dir=(0, 1, 0))):
        with Locations(Location((12.5, 12.5, 0), (0, 0, 270))):
            Circle(LPATTERN2_COPY_45_SKETCH_R)
    extrude(amount=-LPATTERN2_COPY_45_DEPTH, mode=Mode.SUBTRACT)

    # LPattern2 copy 46 sketch → LPattern2 copy 46 (cut)
    with BuildSketch(Plane(origin=(175, 13, -100), x_dir=(1, 0, 0), z_dir=(0, 1, 0))):
        with Locations(Location((12.5, 12.5, 0), (0, 0, 270))):
            Circle(LPATTERN2_COPY_46_SKETCH_R)
    extrude(amount=-LPATTERN2_COPY_46_DEPTH, mode=Mode.SUBTRACT)

    # LPattern2 copy 47 sketch → LPattern2 copy 47 (cut)
    with BuildSketch(Plane(origin=(175, 13, -125), x_dir=(1, 0, 0), z_dir=(0, 1, 0))):
        with Locations(Location((12.5, 12.5, 0), (0, 0, 270))):
            Circle(LPATTERN2_COPY_47_SKETCH_R)
    extrude(amount=-LPATTERN2_COPY_47_DEPTH, mode=Mode.SUBTRACT)

    # LPattern2 copy 48 sketch → LPattern2 copy 48 (cut)
    with BuildSketch(Plane(origin=(175, 13, -150), x_dir=(1, 0, 0), z_dir=(0, 1, 0))):
        with Locations(Location((12.5, 12.5, 0), (0, 0, 270))):
            Circle(LPATTERN2_COPY_48_SKETCH_R)
    extrude(amount=-LPATTERN2_COPY_48_DEPTH, mode=Mode.SUBTRACT)

    # LPattern2 copy 49 sketch → LPattern2 copy 49 (cut)
    with BuildSketch(Plane(origin=(175, 13, -175), x_dir=(1, 0, 0), z_dir=(0, 1, 0))):
        with Locations(Location((12.5, 12.5, 0), (0, 0, 270))):
            Circle(LPATTERN2_COPY_49_SKETCH_R)
    extrude(amount=-LPATTERN2_COPY_49_DEPTH, mode=Mode.SUBTRACT)

    # Fillet1
    fillet1_edges = [part.edges().sort_by_distance(p)[0] for p in [
        (0, 6.5, -200),
        (200, 6.5, -200),
        (200, 6.5, 0),
        (0, 6.5, 0),
    ]]
    fillet(fillet1_edges, radius=FILLET1_R)


solid = part.part
